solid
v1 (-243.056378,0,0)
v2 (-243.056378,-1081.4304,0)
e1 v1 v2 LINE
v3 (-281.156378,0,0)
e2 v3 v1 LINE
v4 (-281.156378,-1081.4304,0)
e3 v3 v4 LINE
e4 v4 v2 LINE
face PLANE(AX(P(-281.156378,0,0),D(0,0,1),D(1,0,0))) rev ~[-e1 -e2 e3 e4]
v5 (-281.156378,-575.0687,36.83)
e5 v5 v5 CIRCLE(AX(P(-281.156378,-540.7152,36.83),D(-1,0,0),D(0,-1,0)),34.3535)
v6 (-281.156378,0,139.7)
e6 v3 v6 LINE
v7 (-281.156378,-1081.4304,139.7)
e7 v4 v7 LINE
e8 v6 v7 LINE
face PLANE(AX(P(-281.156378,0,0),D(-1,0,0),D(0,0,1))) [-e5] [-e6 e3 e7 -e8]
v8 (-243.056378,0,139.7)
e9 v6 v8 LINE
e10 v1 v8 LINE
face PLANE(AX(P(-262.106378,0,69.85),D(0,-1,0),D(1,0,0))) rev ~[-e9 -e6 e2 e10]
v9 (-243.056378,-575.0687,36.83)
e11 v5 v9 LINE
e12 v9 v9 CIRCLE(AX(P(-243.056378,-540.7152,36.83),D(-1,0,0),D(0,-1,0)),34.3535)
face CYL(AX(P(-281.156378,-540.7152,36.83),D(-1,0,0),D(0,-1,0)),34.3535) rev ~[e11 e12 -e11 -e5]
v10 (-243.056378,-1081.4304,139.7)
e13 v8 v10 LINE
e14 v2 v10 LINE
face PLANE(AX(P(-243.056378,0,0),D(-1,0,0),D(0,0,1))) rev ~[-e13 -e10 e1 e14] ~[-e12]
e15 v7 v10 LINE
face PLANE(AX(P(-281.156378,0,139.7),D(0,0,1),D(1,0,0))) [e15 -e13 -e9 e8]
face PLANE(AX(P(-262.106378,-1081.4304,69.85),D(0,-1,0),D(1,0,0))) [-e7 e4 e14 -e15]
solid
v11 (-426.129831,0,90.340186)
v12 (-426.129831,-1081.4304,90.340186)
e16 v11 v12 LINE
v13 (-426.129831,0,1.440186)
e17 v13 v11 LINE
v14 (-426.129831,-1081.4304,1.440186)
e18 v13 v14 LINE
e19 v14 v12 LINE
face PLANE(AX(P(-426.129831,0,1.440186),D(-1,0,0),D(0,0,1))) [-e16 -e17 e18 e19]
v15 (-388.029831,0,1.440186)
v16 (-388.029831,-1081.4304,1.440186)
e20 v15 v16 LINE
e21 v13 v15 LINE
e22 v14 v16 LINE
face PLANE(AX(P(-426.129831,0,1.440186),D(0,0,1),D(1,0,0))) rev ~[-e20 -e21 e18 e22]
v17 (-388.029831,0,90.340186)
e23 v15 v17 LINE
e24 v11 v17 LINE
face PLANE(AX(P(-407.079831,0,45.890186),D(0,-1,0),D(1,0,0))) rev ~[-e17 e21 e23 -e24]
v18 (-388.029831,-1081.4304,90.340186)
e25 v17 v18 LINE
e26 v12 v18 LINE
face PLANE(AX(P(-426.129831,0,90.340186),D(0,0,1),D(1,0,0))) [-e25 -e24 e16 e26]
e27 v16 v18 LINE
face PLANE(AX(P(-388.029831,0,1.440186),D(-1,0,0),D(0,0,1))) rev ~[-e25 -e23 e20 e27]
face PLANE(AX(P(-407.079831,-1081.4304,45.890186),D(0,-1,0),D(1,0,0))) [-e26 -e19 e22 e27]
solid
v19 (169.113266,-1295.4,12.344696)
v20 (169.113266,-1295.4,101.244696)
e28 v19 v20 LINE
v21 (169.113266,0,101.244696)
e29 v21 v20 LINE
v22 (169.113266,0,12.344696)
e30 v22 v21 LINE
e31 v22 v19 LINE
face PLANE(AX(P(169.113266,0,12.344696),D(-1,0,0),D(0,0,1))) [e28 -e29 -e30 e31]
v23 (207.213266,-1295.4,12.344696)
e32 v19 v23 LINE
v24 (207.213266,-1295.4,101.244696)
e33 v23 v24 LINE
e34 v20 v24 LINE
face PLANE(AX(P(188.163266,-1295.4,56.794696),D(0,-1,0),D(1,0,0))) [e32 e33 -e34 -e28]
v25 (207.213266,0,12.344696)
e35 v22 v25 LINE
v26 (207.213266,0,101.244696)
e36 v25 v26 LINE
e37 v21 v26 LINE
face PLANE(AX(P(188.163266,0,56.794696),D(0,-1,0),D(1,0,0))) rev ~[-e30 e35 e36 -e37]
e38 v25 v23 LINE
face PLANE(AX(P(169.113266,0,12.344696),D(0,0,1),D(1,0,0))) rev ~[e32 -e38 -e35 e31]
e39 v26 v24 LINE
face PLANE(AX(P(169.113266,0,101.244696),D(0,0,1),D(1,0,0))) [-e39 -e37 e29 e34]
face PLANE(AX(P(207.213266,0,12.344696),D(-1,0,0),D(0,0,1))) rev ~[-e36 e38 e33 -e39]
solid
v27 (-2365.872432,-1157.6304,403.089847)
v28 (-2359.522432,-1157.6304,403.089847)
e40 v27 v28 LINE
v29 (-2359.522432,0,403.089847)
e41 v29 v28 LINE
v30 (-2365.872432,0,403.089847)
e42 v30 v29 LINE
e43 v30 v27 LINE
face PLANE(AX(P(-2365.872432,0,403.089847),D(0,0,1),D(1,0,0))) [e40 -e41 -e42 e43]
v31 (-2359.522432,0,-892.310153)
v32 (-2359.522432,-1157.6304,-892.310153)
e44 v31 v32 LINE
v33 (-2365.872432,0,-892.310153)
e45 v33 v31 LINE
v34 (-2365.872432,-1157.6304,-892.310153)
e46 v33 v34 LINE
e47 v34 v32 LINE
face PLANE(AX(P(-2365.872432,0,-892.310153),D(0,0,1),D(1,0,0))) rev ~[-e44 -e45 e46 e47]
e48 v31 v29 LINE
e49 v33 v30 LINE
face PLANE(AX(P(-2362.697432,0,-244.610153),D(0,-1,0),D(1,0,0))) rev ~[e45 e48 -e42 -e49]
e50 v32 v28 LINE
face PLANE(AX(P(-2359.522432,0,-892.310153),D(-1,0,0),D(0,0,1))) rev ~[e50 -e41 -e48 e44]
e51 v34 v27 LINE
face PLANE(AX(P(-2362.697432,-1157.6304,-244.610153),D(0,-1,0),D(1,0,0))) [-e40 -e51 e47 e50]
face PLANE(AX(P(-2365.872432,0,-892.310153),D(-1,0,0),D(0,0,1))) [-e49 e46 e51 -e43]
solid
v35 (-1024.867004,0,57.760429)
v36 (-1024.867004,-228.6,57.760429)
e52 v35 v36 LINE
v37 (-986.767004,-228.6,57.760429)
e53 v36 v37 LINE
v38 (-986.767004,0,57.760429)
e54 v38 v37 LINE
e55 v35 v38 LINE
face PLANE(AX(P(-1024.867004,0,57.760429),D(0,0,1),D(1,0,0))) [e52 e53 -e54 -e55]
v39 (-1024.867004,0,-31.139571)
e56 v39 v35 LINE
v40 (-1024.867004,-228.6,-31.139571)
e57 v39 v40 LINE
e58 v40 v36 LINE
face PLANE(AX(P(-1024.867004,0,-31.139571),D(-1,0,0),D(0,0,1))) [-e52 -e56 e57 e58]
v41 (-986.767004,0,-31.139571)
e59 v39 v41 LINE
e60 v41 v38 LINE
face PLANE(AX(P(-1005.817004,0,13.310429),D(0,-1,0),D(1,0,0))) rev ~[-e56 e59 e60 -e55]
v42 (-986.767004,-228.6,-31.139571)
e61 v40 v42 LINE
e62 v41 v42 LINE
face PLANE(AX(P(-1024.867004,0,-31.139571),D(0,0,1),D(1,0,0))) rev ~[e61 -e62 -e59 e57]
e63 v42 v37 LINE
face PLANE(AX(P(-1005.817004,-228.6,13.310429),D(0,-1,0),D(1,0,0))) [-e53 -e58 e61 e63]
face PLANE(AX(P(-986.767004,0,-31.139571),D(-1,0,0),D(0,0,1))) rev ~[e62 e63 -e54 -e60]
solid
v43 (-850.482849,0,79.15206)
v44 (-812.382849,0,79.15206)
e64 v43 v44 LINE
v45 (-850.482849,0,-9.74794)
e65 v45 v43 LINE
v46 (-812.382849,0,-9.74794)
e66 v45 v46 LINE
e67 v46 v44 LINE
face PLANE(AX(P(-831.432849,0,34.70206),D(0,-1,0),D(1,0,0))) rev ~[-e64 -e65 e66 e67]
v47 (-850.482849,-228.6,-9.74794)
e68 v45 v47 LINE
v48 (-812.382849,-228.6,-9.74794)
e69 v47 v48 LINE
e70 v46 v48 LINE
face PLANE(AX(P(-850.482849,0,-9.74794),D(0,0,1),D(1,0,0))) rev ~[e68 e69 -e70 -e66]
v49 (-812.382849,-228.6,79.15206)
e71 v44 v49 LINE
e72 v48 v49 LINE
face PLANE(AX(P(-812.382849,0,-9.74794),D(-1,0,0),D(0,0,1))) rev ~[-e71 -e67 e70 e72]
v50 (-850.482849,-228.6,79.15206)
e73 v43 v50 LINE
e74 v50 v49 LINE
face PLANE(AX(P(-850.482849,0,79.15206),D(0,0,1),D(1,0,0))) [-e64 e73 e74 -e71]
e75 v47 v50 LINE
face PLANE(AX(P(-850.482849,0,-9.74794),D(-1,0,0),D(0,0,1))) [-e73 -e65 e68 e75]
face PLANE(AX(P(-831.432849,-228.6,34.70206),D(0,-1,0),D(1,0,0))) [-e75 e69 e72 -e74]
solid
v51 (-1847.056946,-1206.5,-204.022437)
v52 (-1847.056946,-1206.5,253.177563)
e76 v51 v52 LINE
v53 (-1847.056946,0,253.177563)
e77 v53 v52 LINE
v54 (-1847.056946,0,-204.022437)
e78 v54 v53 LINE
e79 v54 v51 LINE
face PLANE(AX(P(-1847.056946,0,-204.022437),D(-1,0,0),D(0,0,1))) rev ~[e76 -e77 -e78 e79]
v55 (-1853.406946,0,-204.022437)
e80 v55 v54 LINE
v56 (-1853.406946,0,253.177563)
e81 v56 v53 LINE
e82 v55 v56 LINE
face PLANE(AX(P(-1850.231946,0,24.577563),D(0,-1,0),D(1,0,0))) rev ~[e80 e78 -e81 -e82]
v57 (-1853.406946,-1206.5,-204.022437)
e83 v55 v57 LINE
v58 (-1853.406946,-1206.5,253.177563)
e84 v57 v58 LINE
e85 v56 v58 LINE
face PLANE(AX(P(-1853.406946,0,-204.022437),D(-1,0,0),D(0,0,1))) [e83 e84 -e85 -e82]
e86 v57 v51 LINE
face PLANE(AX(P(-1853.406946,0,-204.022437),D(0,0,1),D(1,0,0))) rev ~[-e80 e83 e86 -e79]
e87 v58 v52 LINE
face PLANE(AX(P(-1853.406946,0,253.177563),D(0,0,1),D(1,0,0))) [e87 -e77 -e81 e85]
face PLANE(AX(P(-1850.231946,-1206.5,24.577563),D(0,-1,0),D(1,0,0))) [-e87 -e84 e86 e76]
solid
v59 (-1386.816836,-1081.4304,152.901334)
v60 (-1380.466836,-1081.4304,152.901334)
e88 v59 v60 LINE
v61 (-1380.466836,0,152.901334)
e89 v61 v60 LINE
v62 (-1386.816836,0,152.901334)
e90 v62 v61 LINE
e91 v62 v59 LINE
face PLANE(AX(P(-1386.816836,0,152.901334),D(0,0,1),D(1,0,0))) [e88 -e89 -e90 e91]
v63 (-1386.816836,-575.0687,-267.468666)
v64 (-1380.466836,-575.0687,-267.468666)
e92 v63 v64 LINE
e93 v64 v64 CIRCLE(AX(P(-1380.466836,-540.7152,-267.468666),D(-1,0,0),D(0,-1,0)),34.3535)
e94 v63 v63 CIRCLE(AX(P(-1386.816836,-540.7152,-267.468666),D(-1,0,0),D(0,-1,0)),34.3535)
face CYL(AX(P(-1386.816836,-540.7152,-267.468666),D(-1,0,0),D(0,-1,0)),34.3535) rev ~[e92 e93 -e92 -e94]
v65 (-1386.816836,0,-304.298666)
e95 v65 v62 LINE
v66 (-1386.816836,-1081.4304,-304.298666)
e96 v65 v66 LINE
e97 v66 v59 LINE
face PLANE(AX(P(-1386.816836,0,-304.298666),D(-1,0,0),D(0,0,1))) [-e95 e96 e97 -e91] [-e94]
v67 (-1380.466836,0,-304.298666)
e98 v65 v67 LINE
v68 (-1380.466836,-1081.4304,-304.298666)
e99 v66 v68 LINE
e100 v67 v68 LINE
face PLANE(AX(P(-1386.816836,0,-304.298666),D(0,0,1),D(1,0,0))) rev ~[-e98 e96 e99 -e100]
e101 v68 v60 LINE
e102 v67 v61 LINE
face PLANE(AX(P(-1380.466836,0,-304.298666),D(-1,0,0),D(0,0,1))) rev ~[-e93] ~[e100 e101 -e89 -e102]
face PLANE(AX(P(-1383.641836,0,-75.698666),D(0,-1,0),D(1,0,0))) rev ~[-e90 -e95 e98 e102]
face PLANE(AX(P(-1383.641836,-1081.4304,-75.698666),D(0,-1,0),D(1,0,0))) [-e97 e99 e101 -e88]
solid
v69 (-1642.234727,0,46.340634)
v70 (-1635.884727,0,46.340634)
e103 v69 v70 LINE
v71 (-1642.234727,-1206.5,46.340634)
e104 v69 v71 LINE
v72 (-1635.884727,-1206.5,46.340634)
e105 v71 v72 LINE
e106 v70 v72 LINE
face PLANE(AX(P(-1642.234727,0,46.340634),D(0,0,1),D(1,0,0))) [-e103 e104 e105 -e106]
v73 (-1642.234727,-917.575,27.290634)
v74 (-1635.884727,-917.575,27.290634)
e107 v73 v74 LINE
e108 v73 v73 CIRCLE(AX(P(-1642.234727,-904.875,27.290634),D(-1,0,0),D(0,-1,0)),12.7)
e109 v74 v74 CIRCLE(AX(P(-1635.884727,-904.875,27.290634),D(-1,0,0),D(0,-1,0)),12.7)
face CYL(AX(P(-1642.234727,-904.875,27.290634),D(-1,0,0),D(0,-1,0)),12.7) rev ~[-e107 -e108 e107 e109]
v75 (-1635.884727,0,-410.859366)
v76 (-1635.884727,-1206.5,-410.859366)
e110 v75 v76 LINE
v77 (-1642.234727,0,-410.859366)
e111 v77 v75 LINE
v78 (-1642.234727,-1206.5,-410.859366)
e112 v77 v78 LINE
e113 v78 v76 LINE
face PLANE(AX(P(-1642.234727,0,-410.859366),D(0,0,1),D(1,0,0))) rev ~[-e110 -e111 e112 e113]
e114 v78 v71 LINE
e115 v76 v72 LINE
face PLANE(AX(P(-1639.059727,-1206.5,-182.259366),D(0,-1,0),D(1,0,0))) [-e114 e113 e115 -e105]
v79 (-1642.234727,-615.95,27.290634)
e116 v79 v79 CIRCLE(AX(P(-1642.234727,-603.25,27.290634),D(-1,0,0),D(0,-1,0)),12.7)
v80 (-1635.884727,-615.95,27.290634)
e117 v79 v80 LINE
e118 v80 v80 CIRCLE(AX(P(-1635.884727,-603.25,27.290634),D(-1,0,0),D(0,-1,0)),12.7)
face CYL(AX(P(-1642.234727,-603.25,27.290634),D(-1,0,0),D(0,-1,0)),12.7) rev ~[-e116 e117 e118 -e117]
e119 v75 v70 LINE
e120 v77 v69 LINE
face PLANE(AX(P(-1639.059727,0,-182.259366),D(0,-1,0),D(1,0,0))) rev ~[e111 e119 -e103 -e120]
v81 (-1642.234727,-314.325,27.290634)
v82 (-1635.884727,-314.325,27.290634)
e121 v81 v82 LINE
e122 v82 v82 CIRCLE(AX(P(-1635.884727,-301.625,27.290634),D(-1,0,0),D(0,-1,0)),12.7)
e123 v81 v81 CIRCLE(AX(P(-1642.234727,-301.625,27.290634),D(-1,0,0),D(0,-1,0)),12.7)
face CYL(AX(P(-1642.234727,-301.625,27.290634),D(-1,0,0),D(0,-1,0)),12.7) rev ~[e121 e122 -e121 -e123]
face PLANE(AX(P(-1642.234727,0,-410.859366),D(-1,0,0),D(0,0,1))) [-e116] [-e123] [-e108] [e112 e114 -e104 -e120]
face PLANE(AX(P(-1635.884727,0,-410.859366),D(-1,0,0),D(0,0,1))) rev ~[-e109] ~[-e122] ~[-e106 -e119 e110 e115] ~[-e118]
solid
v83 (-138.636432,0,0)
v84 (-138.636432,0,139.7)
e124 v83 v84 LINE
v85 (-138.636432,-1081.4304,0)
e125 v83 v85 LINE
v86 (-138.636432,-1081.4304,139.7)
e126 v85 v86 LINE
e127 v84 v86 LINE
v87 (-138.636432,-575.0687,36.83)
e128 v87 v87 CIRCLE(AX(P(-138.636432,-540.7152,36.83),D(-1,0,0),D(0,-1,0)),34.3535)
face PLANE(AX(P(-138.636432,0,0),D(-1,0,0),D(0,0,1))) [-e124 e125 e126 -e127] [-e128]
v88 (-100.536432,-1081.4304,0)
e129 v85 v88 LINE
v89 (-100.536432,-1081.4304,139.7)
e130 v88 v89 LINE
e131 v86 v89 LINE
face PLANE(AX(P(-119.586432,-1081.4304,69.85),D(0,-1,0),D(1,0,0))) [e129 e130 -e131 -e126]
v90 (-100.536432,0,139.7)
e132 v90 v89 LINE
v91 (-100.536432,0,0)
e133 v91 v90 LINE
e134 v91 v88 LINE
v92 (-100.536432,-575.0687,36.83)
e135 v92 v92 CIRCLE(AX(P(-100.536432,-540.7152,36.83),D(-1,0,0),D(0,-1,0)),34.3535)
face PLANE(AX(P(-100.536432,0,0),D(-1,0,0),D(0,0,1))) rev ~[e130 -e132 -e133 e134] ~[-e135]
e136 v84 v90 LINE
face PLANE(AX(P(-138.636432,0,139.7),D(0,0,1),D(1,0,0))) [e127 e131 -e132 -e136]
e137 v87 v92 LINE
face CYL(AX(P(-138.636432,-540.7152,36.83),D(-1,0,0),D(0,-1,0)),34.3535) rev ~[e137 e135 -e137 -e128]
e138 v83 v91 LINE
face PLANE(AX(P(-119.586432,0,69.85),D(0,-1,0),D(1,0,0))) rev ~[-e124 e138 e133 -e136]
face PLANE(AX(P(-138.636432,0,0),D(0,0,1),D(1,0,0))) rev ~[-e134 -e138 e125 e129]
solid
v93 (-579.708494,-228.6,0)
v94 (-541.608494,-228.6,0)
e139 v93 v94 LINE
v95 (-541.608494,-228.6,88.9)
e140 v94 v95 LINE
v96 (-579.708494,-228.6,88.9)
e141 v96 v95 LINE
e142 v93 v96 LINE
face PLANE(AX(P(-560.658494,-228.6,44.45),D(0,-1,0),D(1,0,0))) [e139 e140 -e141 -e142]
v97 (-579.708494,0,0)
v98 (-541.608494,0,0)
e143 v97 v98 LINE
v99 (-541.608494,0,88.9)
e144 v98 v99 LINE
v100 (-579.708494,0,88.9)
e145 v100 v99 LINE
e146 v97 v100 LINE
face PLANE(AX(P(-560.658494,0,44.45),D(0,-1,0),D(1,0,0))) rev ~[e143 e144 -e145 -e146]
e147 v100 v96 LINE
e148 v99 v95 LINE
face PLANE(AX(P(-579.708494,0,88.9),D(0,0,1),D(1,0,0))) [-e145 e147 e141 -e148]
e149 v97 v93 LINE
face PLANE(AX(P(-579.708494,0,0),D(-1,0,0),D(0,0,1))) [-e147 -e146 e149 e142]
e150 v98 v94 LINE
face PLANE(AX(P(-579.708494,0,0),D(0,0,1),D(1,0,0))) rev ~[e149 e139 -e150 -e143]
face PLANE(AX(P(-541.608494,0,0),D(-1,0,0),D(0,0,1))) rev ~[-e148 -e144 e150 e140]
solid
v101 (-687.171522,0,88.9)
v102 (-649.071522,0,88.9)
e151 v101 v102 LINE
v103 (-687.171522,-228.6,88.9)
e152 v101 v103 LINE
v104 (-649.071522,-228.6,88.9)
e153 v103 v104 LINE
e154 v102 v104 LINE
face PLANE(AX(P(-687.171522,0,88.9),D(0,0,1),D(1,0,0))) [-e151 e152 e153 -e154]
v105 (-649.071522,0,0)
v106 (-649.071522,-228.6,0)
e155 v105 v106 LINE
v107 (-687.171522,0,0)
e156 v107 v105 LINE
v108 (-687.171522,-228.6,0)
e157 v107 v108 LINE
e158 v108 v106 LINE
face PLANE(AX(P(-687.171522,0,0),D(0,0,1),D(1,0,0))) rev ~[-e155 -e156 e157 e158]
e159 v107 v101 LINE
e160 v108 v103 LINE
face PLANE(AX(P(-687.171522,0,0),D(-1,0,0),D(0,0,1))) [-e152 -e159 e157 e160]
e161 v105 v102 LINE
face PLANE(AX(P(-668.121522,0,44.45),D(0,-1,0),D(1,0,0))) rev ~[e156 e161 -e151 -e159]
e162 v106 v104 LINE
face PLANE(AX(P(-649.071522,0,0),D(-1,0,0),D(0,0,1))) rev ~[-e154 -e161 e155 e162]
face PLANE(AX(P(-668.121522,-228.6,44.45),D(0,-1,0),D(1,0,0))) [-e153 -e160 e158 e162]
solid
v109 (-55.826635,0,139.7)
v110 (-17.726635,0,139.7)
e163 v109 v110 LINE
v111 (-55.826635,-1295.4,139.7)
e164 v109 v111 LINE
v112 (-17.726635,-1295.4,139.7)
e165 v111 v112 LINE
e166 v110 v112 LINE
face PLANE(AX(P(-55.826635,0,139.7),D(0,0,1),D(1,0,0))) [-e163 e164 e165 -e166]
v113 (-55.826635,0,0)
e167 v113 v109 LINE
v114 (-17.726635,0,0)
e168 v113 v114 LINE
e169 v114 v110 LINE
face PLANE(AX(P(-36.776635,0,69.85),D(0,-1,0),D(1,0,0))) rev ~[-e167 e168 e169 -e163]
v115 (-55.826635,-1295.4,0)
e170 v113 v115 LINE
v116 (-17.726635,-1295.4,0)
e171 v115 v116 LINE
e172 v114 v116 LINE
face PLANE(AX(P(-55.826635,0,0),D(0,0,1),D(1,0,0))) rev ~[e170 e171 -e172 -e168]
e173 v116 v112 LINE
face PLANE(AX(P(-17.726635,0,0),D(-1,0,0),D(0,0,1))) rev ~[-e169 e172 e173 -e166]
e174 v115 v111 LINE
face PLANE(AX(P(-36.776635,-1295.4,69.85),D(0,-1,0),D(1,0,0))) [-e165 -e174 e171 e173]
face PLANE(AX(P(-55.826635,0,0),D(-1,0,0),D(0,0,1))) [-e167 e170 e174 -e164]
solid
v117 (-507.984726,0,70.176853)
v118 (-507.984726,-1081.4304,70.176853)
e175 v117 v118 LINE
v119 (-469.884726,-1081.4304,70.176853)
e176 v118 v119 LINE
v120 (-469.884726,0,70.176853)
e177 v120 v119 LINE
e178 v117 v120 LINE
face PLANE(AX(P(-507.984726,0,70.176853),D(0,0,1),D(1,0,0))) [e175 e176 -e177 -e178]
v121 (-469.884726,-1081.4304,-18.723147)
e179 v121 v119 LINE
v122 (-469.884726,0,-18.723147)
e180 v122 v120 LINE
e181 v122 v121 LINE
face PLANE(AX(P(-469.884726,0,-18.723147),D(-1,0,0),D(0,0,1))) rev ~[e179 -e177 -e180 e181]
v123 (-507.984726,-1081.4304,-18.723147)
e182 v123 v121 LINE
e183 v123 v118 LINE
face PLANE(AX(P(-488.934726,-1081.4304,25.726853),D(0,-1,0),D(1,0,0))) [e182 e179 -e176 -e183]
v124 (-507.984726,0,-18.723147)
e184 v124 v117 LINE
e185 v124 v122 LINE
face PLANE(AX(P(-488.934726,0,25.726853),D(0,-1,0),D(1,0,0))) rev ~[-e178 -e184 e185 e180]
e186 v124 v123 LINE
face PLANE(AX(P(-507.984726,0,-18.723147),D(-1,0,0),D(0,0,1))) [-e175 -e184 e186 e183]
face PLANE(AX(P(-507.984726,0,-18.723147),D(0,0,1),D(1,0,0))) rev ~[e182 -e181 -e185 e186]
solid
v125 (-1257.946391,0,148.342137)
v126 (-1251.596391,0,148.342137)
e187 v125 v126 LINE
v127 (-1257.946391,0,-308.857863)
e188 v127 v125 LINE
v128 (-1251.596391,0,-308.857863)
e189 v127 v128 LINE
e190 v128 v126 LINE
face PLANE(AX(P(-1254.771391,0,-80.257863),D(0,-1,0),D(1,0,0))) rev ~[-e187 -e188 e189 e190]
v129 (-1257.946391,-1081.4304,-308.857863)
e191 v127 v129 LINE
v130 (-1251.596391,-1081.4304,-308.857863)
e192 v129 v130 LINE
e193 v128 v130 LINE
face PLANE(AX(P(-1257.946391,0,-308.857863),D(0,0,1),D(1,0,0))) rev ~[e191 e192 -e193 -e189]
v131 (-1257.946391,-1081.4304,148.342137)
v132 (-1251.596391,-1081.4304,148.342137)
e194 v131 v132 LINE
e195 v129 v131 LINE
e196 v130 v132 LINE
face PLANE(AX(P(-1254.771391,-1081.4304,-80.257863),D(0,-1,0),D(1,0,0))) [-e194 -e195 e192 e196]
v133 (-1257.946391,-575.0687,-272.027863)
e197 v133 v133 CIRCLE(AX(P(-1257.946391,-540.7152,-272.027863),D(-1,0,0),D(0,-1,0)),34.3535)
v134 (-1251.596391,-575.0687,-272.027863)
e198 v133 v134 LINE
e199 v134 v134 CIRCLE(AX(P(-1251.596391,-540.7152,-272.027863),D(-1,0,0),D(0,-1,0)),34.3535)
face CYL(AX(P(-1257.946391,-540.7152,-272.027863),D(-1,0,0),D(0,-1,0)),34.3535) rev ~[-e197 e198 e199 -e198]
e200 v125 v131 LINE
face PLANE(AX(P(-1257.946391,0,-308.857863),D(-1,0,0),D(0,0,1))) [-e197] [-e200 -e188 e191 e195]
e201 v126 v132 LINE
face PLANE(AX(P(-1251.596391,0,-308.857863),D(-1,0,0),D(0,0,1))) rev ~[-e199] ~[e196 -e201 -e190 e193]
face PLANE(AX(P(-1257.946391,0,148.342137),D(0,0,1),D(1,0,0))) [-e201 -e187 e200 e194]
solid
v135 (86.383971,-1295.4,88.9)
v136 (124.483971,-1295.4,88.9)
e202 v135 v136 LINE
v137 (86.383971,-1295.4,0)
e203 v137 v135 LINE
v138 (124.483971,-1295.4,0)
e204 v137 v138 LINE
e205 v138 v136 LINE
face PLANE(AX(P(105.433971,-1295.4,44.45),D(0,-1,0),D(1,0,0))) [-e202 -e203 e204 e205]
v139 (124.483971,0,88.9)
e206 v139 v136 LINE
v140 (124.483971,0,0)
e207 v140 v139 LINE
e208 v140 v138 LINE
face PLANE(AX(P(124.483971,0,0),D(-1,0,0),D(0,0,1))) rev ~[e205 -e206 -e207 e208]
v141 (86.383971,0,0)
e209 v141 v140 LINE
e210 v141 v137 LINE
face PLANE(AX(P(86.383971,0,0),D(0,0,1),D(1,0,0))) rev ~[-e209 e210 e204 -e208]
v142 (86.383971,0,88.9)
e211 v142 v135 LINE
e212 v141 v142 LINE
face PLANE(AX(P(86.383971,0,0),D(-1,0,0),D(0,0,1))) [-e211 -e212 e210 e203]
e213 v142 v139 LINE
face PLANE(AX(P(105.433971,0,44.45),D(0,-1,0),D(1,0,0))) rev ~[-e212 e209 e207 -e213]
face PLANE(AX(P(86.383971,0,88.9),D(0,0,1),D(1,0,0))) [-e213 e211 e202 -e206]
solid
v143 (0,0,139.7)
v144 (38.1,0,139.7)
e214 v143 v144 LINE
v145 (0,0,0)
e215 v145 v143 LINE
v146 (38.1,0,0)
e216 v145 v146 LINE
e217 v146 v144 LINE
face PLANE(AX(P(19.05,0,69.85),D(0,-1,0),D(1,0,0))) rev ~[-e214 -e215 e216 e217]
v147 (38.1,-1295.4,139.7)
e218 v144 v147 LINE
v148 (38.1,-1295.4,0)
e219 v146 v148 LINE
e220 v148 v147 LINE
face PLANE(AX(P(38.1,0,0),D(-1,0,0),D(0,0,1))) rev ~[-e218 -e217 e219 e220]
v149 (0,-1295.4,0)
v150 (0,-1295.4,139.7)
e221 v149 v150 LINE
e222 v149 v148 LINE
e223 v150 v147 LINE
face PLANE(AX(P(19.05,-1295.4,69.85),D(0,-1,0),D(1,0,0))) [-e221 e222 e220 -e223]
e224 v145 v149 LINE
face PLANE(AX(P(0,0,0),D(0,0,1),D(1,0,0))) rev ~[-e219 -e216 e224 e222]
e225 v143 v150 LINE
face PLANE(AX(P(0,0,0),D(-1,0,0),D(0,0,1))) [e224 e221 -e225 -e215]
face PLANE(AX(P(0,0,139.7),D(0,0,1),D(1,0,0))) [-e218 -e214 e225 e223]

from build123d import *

# Parameters (mm, degrees)
F0_W      = 38.1
F0_H      = 139.7
F1_DEPTH  = 1295.4
F2_W      = 38.1
F2_H      = 139.7
F3_DEPTH  = 1295.4
F4_W      = 38.1
F4_H      = 139.7
F5_DEPTH  = 1081.4304
F6_W      = 38.1
F6_H      = 139.7
F7_DEPTH  = 1081.4304
F8_W      = 38.1
F8_H      = 88.9
F9_DEPTH  = 1081.4304
F10_W     = 38.1
F10_H     = 88.9
F11_DEPTH = 1081.4304
F12_W     = 38.1
F12_H     = 88.9
F13_DEPTH = 1295.4
F14_W     = 38.1
F14_H     = 88.9
F15_DEPTH = 1295.4
F16_W     = 38.1
F16_H     = 88.9
F17_DEPTH = 228.6
F18_W     = 38.1
F18_H     = 88.9
F19_DEPTH = 228.6
F20_W     = 38.1
F20_H     = 88.9
F21_DEPTH = 228.6
F22_W     = 38.1
F22_H     = 88.9
F23_DEPTH = 228.6
F24_W     = 6.35
F24_H     = 457.2
F25_DEPTH = 1081.4304
F26_W     = 6.35
F26_H     = 457.2
F27_DEPTH = 1081.4304
F28_W     = 6.35
F28_H     = 457.2
F29_DEPTH = 1206.5
F30_W     = 6.35
F30_H     = 457.2
F31_DEPTH = 1206.5
F32_W     = 6.35
F32_H     = 1295.4
F33_DEPTH = 1157.6304
F34_R     = 34.3535
F35_DEPTH = 38.1
F36_R     = 34.3535
F37_DEPTH = 38.1
F38_R     = 34.3535
F39_DEPTH = 25.4
F40_R     = 34.3535
F41_DEPTH = 25.4
F42_R     = 12.7
F43_DEPTH = 25.4


with BuildPart() as f1:
    # F0 (on Front) → F1 (new body)
    with BuildSketch(Plane.XZ):
        with Locations((19.05, 69.85)):
            Rectangle(F0_W, F0_H)
    extrude(amount=F1_DEPTH)


with BuildPart() as f3:
    # F2 (on Front) → F3 (new body)
    with BuildSketch(Plane.XZ):
        with Locations((-36.776635, 69.85)):
            Rectangle(F2_W, F2_H)
    extrude(amount=F3_DEPTH)


with BuildPart() as f5:
    # F4 (on Front) → F5 (new body)
    with BuildSketch(Plane.XZ):
        with Locations((-119.586432, 69.85)):
            Rectangle(F4_W, F4_H)
    extrude(amount=F5_DEPTH)

    # F36 (on face) → F37 (cut)
    with BuildSketch(Plane(origin=(-138.636432, 0, 0), x_dir=(0, -1, 0), z_dir=(-1, 0, 0))):
        with Locations((540.7152, 36.83)):
            Circle(F36_R)
    extrude(amount=-F37_DEPTH, mode=Mode.SUBTRACT)


with BuildPart() as f7:
    # F6 (on Front) → F7 (new body)
    with BuildSketch(Plane.XZ):
        with Locations((-262.106378, 69.85)):
            Rectangle(F6_W, F6_H)
    extrude(amount=F7_DEPTH)

    # F34 (on face) → F35 (cut)
    with BuildSketch(Plane(origin=(-281.156378, 0, 0), x_dir=(0, -1, 0), z_dir=(-1, 0, 0))):
        with Locations((540.7152, 36.83)):
            Circle(F34_R)
    extrude(amount=-F35_DEPTH, mode=Mode.SUBTRACT)


with BuildPart() as f9:
    # F8 (on Front) → F9 (new body)
    with BuildSketch(Plane.XZ):
        with Locations((-488.934726, 25.726853)):
            Rectangle(F8_W, F8_H)
    extrude(amount=F9_DEPTH)


with BuildPart() as f11:
    # F10 (on Front) → F11 (new body)
    with BuildSketch(Plane.XZ):
        with Locations((-407.079831, 45.890186)):
            Rectangle(F10_W, F10_H)
    extrude(amount=F11_DEPTH)


with BuildPart() as f13:
    # F12 (on Front) → F13 (new body)
    with BuildSketch(Plane.XZ):
        with Locations((105.433971, 44.45)):
            Rectangle(F12_W, F12_H)
    extrude(amount=F13_DEPTH)


with BuildPart() as f15:
    # F14 (on Front) → F15 (new body)
    with BuildSketch(Plane.XZ):
        with Locations((188.163266, 56.794696)):
            Rectangle(F14_W, F14_H)
    extrude(amount=F15_DEPTH)


with BuildPart() as f17:
    # F16 (on Front) → F17 (new body)
    with BuildSketch(Plane.XZ):
        with Locations((-668.121522, 44.45)):
            Rectangle(F16_W, F16_H)
    extrude(amount=F17_DEPTH)


with BuildPart() as f19:
    # F18 (on Front) → F19 (new body)
    with BuildSketch(Plane.XZ):
        with Locations((-560.658494, 44.45)):
            Rectangle(F18_W, F18_H)
    extrude(amount=F19_DEPTH)


with BuildPart() as f21:
    # F20 (on Front) → F21 (new body)
    with BuildSketch(Plane.XZ):
        with Locations((-1005.817004, 13.310429)):
            Rectangle(F20_W, F20_H)
    extrude(amount=F21_DEPTH)


with BuildPart() as f23:
    # F22 (on Front) → F23 (new body)
    with BuildSketch(Plane.XZ):
        with Locations((-831.432849, 34.70206)):
            Rectangle(F22_W, F22_H)
    extrude(amount=F23_DEPTH)


with BuildPart() as f25:
    # F24 (on Front) → F25 (new body)
    with BuildSketch(Plane.XZ):
        with Locations((-1254.771391, -80.257863)):
            Rectangle(F24_W, F24_H)
    extrude(amount=F25_DEPTH)

    # F38 (on face) → F39 (cut)
    with BuildSketch(Plane(origin=(-1257.946391, 0, 0), x_dir=(0, -1, 0), z_dir=(-1, 0, 0))):
        with Locations((540.7152, -272.027863)):
            Circle(F38_R)
    extrude(amount=-F39_DEPTH, mode=Mode.SUBTRACT)


with BuildPart() as f27:
    # F26 (on Front) → F27 (new body)
    with BuildSketch(Plane.XZ):
        with Locations((-1383.641836, -75.698666)):
            Rectangle(F26_W, F26_H)
    extrude(amount=F27_DEPTH)

    # F40 (on face) → F41 (cut)
    with BuildSketch(Plane(origin=(-1386.816836, 0, 0), x_dir=(0, -1, 0), z_dir=(-1, 0, 0))):
        with Locations((540.7152, -267.468666)):
            Circle(F40_R)
    extrude(amount=-F41_DEPTH, mode=Mode.SUBTRACT)


with BuildPart() as f29:
    # F28 (on Front) → F29 (new body)
    with BuildSketch(Plane.XZ):
        with Locations((-1639.059727, -182.259366)):
            Rectangle(F28_W, F28_H)
    extrude(amount=F29_DEPTH)

    # F42 (on face) → F43 (cut)
    with BuildSketch(Plane(origin=(-1642.234727, 0, 0), x_dir=(0, -1, 0), z_dir=(-1, 0, 0))):
        with Locations((301.625, 27.290634)):
            Circle(F42_R)
        with Locations((603.25, 27.290634)):
            Circle(F42_R)
        with Locations((904.875, 27.290634)):
            Circle(F42_R)
    extrude(amount=-F43_DEPTH, mode=Mode.SUBTRACT)


with BuildPart() as f31:
    # F30 (on Front) → F31 (new body)
    with BuildSketch(Plane.XZ):
        with Locations((-1850.231946, 24.577563)):
            Rectangle(F30_W, F30_H)
    extrude(amount=F31_DEPTH)


with BuildPart() as f33:
    # F32 (on Front) → F33 (new body)
    with BuildSketch(Plane.XZ):
        with Locations((-2362.697432, -244.610153)):
            Rectangle(F32_W, F32_H)
    extrude(amount=F33_DEPTH)


solid = Compound([f1.part, f3.part, f5.part, f7.part, f9.part, f11.part, f13.part, f15.part, f17.part, f19.part, f21.part, f23.part, f25.part, f27.part, f29.part, f31.part, f33.part])
